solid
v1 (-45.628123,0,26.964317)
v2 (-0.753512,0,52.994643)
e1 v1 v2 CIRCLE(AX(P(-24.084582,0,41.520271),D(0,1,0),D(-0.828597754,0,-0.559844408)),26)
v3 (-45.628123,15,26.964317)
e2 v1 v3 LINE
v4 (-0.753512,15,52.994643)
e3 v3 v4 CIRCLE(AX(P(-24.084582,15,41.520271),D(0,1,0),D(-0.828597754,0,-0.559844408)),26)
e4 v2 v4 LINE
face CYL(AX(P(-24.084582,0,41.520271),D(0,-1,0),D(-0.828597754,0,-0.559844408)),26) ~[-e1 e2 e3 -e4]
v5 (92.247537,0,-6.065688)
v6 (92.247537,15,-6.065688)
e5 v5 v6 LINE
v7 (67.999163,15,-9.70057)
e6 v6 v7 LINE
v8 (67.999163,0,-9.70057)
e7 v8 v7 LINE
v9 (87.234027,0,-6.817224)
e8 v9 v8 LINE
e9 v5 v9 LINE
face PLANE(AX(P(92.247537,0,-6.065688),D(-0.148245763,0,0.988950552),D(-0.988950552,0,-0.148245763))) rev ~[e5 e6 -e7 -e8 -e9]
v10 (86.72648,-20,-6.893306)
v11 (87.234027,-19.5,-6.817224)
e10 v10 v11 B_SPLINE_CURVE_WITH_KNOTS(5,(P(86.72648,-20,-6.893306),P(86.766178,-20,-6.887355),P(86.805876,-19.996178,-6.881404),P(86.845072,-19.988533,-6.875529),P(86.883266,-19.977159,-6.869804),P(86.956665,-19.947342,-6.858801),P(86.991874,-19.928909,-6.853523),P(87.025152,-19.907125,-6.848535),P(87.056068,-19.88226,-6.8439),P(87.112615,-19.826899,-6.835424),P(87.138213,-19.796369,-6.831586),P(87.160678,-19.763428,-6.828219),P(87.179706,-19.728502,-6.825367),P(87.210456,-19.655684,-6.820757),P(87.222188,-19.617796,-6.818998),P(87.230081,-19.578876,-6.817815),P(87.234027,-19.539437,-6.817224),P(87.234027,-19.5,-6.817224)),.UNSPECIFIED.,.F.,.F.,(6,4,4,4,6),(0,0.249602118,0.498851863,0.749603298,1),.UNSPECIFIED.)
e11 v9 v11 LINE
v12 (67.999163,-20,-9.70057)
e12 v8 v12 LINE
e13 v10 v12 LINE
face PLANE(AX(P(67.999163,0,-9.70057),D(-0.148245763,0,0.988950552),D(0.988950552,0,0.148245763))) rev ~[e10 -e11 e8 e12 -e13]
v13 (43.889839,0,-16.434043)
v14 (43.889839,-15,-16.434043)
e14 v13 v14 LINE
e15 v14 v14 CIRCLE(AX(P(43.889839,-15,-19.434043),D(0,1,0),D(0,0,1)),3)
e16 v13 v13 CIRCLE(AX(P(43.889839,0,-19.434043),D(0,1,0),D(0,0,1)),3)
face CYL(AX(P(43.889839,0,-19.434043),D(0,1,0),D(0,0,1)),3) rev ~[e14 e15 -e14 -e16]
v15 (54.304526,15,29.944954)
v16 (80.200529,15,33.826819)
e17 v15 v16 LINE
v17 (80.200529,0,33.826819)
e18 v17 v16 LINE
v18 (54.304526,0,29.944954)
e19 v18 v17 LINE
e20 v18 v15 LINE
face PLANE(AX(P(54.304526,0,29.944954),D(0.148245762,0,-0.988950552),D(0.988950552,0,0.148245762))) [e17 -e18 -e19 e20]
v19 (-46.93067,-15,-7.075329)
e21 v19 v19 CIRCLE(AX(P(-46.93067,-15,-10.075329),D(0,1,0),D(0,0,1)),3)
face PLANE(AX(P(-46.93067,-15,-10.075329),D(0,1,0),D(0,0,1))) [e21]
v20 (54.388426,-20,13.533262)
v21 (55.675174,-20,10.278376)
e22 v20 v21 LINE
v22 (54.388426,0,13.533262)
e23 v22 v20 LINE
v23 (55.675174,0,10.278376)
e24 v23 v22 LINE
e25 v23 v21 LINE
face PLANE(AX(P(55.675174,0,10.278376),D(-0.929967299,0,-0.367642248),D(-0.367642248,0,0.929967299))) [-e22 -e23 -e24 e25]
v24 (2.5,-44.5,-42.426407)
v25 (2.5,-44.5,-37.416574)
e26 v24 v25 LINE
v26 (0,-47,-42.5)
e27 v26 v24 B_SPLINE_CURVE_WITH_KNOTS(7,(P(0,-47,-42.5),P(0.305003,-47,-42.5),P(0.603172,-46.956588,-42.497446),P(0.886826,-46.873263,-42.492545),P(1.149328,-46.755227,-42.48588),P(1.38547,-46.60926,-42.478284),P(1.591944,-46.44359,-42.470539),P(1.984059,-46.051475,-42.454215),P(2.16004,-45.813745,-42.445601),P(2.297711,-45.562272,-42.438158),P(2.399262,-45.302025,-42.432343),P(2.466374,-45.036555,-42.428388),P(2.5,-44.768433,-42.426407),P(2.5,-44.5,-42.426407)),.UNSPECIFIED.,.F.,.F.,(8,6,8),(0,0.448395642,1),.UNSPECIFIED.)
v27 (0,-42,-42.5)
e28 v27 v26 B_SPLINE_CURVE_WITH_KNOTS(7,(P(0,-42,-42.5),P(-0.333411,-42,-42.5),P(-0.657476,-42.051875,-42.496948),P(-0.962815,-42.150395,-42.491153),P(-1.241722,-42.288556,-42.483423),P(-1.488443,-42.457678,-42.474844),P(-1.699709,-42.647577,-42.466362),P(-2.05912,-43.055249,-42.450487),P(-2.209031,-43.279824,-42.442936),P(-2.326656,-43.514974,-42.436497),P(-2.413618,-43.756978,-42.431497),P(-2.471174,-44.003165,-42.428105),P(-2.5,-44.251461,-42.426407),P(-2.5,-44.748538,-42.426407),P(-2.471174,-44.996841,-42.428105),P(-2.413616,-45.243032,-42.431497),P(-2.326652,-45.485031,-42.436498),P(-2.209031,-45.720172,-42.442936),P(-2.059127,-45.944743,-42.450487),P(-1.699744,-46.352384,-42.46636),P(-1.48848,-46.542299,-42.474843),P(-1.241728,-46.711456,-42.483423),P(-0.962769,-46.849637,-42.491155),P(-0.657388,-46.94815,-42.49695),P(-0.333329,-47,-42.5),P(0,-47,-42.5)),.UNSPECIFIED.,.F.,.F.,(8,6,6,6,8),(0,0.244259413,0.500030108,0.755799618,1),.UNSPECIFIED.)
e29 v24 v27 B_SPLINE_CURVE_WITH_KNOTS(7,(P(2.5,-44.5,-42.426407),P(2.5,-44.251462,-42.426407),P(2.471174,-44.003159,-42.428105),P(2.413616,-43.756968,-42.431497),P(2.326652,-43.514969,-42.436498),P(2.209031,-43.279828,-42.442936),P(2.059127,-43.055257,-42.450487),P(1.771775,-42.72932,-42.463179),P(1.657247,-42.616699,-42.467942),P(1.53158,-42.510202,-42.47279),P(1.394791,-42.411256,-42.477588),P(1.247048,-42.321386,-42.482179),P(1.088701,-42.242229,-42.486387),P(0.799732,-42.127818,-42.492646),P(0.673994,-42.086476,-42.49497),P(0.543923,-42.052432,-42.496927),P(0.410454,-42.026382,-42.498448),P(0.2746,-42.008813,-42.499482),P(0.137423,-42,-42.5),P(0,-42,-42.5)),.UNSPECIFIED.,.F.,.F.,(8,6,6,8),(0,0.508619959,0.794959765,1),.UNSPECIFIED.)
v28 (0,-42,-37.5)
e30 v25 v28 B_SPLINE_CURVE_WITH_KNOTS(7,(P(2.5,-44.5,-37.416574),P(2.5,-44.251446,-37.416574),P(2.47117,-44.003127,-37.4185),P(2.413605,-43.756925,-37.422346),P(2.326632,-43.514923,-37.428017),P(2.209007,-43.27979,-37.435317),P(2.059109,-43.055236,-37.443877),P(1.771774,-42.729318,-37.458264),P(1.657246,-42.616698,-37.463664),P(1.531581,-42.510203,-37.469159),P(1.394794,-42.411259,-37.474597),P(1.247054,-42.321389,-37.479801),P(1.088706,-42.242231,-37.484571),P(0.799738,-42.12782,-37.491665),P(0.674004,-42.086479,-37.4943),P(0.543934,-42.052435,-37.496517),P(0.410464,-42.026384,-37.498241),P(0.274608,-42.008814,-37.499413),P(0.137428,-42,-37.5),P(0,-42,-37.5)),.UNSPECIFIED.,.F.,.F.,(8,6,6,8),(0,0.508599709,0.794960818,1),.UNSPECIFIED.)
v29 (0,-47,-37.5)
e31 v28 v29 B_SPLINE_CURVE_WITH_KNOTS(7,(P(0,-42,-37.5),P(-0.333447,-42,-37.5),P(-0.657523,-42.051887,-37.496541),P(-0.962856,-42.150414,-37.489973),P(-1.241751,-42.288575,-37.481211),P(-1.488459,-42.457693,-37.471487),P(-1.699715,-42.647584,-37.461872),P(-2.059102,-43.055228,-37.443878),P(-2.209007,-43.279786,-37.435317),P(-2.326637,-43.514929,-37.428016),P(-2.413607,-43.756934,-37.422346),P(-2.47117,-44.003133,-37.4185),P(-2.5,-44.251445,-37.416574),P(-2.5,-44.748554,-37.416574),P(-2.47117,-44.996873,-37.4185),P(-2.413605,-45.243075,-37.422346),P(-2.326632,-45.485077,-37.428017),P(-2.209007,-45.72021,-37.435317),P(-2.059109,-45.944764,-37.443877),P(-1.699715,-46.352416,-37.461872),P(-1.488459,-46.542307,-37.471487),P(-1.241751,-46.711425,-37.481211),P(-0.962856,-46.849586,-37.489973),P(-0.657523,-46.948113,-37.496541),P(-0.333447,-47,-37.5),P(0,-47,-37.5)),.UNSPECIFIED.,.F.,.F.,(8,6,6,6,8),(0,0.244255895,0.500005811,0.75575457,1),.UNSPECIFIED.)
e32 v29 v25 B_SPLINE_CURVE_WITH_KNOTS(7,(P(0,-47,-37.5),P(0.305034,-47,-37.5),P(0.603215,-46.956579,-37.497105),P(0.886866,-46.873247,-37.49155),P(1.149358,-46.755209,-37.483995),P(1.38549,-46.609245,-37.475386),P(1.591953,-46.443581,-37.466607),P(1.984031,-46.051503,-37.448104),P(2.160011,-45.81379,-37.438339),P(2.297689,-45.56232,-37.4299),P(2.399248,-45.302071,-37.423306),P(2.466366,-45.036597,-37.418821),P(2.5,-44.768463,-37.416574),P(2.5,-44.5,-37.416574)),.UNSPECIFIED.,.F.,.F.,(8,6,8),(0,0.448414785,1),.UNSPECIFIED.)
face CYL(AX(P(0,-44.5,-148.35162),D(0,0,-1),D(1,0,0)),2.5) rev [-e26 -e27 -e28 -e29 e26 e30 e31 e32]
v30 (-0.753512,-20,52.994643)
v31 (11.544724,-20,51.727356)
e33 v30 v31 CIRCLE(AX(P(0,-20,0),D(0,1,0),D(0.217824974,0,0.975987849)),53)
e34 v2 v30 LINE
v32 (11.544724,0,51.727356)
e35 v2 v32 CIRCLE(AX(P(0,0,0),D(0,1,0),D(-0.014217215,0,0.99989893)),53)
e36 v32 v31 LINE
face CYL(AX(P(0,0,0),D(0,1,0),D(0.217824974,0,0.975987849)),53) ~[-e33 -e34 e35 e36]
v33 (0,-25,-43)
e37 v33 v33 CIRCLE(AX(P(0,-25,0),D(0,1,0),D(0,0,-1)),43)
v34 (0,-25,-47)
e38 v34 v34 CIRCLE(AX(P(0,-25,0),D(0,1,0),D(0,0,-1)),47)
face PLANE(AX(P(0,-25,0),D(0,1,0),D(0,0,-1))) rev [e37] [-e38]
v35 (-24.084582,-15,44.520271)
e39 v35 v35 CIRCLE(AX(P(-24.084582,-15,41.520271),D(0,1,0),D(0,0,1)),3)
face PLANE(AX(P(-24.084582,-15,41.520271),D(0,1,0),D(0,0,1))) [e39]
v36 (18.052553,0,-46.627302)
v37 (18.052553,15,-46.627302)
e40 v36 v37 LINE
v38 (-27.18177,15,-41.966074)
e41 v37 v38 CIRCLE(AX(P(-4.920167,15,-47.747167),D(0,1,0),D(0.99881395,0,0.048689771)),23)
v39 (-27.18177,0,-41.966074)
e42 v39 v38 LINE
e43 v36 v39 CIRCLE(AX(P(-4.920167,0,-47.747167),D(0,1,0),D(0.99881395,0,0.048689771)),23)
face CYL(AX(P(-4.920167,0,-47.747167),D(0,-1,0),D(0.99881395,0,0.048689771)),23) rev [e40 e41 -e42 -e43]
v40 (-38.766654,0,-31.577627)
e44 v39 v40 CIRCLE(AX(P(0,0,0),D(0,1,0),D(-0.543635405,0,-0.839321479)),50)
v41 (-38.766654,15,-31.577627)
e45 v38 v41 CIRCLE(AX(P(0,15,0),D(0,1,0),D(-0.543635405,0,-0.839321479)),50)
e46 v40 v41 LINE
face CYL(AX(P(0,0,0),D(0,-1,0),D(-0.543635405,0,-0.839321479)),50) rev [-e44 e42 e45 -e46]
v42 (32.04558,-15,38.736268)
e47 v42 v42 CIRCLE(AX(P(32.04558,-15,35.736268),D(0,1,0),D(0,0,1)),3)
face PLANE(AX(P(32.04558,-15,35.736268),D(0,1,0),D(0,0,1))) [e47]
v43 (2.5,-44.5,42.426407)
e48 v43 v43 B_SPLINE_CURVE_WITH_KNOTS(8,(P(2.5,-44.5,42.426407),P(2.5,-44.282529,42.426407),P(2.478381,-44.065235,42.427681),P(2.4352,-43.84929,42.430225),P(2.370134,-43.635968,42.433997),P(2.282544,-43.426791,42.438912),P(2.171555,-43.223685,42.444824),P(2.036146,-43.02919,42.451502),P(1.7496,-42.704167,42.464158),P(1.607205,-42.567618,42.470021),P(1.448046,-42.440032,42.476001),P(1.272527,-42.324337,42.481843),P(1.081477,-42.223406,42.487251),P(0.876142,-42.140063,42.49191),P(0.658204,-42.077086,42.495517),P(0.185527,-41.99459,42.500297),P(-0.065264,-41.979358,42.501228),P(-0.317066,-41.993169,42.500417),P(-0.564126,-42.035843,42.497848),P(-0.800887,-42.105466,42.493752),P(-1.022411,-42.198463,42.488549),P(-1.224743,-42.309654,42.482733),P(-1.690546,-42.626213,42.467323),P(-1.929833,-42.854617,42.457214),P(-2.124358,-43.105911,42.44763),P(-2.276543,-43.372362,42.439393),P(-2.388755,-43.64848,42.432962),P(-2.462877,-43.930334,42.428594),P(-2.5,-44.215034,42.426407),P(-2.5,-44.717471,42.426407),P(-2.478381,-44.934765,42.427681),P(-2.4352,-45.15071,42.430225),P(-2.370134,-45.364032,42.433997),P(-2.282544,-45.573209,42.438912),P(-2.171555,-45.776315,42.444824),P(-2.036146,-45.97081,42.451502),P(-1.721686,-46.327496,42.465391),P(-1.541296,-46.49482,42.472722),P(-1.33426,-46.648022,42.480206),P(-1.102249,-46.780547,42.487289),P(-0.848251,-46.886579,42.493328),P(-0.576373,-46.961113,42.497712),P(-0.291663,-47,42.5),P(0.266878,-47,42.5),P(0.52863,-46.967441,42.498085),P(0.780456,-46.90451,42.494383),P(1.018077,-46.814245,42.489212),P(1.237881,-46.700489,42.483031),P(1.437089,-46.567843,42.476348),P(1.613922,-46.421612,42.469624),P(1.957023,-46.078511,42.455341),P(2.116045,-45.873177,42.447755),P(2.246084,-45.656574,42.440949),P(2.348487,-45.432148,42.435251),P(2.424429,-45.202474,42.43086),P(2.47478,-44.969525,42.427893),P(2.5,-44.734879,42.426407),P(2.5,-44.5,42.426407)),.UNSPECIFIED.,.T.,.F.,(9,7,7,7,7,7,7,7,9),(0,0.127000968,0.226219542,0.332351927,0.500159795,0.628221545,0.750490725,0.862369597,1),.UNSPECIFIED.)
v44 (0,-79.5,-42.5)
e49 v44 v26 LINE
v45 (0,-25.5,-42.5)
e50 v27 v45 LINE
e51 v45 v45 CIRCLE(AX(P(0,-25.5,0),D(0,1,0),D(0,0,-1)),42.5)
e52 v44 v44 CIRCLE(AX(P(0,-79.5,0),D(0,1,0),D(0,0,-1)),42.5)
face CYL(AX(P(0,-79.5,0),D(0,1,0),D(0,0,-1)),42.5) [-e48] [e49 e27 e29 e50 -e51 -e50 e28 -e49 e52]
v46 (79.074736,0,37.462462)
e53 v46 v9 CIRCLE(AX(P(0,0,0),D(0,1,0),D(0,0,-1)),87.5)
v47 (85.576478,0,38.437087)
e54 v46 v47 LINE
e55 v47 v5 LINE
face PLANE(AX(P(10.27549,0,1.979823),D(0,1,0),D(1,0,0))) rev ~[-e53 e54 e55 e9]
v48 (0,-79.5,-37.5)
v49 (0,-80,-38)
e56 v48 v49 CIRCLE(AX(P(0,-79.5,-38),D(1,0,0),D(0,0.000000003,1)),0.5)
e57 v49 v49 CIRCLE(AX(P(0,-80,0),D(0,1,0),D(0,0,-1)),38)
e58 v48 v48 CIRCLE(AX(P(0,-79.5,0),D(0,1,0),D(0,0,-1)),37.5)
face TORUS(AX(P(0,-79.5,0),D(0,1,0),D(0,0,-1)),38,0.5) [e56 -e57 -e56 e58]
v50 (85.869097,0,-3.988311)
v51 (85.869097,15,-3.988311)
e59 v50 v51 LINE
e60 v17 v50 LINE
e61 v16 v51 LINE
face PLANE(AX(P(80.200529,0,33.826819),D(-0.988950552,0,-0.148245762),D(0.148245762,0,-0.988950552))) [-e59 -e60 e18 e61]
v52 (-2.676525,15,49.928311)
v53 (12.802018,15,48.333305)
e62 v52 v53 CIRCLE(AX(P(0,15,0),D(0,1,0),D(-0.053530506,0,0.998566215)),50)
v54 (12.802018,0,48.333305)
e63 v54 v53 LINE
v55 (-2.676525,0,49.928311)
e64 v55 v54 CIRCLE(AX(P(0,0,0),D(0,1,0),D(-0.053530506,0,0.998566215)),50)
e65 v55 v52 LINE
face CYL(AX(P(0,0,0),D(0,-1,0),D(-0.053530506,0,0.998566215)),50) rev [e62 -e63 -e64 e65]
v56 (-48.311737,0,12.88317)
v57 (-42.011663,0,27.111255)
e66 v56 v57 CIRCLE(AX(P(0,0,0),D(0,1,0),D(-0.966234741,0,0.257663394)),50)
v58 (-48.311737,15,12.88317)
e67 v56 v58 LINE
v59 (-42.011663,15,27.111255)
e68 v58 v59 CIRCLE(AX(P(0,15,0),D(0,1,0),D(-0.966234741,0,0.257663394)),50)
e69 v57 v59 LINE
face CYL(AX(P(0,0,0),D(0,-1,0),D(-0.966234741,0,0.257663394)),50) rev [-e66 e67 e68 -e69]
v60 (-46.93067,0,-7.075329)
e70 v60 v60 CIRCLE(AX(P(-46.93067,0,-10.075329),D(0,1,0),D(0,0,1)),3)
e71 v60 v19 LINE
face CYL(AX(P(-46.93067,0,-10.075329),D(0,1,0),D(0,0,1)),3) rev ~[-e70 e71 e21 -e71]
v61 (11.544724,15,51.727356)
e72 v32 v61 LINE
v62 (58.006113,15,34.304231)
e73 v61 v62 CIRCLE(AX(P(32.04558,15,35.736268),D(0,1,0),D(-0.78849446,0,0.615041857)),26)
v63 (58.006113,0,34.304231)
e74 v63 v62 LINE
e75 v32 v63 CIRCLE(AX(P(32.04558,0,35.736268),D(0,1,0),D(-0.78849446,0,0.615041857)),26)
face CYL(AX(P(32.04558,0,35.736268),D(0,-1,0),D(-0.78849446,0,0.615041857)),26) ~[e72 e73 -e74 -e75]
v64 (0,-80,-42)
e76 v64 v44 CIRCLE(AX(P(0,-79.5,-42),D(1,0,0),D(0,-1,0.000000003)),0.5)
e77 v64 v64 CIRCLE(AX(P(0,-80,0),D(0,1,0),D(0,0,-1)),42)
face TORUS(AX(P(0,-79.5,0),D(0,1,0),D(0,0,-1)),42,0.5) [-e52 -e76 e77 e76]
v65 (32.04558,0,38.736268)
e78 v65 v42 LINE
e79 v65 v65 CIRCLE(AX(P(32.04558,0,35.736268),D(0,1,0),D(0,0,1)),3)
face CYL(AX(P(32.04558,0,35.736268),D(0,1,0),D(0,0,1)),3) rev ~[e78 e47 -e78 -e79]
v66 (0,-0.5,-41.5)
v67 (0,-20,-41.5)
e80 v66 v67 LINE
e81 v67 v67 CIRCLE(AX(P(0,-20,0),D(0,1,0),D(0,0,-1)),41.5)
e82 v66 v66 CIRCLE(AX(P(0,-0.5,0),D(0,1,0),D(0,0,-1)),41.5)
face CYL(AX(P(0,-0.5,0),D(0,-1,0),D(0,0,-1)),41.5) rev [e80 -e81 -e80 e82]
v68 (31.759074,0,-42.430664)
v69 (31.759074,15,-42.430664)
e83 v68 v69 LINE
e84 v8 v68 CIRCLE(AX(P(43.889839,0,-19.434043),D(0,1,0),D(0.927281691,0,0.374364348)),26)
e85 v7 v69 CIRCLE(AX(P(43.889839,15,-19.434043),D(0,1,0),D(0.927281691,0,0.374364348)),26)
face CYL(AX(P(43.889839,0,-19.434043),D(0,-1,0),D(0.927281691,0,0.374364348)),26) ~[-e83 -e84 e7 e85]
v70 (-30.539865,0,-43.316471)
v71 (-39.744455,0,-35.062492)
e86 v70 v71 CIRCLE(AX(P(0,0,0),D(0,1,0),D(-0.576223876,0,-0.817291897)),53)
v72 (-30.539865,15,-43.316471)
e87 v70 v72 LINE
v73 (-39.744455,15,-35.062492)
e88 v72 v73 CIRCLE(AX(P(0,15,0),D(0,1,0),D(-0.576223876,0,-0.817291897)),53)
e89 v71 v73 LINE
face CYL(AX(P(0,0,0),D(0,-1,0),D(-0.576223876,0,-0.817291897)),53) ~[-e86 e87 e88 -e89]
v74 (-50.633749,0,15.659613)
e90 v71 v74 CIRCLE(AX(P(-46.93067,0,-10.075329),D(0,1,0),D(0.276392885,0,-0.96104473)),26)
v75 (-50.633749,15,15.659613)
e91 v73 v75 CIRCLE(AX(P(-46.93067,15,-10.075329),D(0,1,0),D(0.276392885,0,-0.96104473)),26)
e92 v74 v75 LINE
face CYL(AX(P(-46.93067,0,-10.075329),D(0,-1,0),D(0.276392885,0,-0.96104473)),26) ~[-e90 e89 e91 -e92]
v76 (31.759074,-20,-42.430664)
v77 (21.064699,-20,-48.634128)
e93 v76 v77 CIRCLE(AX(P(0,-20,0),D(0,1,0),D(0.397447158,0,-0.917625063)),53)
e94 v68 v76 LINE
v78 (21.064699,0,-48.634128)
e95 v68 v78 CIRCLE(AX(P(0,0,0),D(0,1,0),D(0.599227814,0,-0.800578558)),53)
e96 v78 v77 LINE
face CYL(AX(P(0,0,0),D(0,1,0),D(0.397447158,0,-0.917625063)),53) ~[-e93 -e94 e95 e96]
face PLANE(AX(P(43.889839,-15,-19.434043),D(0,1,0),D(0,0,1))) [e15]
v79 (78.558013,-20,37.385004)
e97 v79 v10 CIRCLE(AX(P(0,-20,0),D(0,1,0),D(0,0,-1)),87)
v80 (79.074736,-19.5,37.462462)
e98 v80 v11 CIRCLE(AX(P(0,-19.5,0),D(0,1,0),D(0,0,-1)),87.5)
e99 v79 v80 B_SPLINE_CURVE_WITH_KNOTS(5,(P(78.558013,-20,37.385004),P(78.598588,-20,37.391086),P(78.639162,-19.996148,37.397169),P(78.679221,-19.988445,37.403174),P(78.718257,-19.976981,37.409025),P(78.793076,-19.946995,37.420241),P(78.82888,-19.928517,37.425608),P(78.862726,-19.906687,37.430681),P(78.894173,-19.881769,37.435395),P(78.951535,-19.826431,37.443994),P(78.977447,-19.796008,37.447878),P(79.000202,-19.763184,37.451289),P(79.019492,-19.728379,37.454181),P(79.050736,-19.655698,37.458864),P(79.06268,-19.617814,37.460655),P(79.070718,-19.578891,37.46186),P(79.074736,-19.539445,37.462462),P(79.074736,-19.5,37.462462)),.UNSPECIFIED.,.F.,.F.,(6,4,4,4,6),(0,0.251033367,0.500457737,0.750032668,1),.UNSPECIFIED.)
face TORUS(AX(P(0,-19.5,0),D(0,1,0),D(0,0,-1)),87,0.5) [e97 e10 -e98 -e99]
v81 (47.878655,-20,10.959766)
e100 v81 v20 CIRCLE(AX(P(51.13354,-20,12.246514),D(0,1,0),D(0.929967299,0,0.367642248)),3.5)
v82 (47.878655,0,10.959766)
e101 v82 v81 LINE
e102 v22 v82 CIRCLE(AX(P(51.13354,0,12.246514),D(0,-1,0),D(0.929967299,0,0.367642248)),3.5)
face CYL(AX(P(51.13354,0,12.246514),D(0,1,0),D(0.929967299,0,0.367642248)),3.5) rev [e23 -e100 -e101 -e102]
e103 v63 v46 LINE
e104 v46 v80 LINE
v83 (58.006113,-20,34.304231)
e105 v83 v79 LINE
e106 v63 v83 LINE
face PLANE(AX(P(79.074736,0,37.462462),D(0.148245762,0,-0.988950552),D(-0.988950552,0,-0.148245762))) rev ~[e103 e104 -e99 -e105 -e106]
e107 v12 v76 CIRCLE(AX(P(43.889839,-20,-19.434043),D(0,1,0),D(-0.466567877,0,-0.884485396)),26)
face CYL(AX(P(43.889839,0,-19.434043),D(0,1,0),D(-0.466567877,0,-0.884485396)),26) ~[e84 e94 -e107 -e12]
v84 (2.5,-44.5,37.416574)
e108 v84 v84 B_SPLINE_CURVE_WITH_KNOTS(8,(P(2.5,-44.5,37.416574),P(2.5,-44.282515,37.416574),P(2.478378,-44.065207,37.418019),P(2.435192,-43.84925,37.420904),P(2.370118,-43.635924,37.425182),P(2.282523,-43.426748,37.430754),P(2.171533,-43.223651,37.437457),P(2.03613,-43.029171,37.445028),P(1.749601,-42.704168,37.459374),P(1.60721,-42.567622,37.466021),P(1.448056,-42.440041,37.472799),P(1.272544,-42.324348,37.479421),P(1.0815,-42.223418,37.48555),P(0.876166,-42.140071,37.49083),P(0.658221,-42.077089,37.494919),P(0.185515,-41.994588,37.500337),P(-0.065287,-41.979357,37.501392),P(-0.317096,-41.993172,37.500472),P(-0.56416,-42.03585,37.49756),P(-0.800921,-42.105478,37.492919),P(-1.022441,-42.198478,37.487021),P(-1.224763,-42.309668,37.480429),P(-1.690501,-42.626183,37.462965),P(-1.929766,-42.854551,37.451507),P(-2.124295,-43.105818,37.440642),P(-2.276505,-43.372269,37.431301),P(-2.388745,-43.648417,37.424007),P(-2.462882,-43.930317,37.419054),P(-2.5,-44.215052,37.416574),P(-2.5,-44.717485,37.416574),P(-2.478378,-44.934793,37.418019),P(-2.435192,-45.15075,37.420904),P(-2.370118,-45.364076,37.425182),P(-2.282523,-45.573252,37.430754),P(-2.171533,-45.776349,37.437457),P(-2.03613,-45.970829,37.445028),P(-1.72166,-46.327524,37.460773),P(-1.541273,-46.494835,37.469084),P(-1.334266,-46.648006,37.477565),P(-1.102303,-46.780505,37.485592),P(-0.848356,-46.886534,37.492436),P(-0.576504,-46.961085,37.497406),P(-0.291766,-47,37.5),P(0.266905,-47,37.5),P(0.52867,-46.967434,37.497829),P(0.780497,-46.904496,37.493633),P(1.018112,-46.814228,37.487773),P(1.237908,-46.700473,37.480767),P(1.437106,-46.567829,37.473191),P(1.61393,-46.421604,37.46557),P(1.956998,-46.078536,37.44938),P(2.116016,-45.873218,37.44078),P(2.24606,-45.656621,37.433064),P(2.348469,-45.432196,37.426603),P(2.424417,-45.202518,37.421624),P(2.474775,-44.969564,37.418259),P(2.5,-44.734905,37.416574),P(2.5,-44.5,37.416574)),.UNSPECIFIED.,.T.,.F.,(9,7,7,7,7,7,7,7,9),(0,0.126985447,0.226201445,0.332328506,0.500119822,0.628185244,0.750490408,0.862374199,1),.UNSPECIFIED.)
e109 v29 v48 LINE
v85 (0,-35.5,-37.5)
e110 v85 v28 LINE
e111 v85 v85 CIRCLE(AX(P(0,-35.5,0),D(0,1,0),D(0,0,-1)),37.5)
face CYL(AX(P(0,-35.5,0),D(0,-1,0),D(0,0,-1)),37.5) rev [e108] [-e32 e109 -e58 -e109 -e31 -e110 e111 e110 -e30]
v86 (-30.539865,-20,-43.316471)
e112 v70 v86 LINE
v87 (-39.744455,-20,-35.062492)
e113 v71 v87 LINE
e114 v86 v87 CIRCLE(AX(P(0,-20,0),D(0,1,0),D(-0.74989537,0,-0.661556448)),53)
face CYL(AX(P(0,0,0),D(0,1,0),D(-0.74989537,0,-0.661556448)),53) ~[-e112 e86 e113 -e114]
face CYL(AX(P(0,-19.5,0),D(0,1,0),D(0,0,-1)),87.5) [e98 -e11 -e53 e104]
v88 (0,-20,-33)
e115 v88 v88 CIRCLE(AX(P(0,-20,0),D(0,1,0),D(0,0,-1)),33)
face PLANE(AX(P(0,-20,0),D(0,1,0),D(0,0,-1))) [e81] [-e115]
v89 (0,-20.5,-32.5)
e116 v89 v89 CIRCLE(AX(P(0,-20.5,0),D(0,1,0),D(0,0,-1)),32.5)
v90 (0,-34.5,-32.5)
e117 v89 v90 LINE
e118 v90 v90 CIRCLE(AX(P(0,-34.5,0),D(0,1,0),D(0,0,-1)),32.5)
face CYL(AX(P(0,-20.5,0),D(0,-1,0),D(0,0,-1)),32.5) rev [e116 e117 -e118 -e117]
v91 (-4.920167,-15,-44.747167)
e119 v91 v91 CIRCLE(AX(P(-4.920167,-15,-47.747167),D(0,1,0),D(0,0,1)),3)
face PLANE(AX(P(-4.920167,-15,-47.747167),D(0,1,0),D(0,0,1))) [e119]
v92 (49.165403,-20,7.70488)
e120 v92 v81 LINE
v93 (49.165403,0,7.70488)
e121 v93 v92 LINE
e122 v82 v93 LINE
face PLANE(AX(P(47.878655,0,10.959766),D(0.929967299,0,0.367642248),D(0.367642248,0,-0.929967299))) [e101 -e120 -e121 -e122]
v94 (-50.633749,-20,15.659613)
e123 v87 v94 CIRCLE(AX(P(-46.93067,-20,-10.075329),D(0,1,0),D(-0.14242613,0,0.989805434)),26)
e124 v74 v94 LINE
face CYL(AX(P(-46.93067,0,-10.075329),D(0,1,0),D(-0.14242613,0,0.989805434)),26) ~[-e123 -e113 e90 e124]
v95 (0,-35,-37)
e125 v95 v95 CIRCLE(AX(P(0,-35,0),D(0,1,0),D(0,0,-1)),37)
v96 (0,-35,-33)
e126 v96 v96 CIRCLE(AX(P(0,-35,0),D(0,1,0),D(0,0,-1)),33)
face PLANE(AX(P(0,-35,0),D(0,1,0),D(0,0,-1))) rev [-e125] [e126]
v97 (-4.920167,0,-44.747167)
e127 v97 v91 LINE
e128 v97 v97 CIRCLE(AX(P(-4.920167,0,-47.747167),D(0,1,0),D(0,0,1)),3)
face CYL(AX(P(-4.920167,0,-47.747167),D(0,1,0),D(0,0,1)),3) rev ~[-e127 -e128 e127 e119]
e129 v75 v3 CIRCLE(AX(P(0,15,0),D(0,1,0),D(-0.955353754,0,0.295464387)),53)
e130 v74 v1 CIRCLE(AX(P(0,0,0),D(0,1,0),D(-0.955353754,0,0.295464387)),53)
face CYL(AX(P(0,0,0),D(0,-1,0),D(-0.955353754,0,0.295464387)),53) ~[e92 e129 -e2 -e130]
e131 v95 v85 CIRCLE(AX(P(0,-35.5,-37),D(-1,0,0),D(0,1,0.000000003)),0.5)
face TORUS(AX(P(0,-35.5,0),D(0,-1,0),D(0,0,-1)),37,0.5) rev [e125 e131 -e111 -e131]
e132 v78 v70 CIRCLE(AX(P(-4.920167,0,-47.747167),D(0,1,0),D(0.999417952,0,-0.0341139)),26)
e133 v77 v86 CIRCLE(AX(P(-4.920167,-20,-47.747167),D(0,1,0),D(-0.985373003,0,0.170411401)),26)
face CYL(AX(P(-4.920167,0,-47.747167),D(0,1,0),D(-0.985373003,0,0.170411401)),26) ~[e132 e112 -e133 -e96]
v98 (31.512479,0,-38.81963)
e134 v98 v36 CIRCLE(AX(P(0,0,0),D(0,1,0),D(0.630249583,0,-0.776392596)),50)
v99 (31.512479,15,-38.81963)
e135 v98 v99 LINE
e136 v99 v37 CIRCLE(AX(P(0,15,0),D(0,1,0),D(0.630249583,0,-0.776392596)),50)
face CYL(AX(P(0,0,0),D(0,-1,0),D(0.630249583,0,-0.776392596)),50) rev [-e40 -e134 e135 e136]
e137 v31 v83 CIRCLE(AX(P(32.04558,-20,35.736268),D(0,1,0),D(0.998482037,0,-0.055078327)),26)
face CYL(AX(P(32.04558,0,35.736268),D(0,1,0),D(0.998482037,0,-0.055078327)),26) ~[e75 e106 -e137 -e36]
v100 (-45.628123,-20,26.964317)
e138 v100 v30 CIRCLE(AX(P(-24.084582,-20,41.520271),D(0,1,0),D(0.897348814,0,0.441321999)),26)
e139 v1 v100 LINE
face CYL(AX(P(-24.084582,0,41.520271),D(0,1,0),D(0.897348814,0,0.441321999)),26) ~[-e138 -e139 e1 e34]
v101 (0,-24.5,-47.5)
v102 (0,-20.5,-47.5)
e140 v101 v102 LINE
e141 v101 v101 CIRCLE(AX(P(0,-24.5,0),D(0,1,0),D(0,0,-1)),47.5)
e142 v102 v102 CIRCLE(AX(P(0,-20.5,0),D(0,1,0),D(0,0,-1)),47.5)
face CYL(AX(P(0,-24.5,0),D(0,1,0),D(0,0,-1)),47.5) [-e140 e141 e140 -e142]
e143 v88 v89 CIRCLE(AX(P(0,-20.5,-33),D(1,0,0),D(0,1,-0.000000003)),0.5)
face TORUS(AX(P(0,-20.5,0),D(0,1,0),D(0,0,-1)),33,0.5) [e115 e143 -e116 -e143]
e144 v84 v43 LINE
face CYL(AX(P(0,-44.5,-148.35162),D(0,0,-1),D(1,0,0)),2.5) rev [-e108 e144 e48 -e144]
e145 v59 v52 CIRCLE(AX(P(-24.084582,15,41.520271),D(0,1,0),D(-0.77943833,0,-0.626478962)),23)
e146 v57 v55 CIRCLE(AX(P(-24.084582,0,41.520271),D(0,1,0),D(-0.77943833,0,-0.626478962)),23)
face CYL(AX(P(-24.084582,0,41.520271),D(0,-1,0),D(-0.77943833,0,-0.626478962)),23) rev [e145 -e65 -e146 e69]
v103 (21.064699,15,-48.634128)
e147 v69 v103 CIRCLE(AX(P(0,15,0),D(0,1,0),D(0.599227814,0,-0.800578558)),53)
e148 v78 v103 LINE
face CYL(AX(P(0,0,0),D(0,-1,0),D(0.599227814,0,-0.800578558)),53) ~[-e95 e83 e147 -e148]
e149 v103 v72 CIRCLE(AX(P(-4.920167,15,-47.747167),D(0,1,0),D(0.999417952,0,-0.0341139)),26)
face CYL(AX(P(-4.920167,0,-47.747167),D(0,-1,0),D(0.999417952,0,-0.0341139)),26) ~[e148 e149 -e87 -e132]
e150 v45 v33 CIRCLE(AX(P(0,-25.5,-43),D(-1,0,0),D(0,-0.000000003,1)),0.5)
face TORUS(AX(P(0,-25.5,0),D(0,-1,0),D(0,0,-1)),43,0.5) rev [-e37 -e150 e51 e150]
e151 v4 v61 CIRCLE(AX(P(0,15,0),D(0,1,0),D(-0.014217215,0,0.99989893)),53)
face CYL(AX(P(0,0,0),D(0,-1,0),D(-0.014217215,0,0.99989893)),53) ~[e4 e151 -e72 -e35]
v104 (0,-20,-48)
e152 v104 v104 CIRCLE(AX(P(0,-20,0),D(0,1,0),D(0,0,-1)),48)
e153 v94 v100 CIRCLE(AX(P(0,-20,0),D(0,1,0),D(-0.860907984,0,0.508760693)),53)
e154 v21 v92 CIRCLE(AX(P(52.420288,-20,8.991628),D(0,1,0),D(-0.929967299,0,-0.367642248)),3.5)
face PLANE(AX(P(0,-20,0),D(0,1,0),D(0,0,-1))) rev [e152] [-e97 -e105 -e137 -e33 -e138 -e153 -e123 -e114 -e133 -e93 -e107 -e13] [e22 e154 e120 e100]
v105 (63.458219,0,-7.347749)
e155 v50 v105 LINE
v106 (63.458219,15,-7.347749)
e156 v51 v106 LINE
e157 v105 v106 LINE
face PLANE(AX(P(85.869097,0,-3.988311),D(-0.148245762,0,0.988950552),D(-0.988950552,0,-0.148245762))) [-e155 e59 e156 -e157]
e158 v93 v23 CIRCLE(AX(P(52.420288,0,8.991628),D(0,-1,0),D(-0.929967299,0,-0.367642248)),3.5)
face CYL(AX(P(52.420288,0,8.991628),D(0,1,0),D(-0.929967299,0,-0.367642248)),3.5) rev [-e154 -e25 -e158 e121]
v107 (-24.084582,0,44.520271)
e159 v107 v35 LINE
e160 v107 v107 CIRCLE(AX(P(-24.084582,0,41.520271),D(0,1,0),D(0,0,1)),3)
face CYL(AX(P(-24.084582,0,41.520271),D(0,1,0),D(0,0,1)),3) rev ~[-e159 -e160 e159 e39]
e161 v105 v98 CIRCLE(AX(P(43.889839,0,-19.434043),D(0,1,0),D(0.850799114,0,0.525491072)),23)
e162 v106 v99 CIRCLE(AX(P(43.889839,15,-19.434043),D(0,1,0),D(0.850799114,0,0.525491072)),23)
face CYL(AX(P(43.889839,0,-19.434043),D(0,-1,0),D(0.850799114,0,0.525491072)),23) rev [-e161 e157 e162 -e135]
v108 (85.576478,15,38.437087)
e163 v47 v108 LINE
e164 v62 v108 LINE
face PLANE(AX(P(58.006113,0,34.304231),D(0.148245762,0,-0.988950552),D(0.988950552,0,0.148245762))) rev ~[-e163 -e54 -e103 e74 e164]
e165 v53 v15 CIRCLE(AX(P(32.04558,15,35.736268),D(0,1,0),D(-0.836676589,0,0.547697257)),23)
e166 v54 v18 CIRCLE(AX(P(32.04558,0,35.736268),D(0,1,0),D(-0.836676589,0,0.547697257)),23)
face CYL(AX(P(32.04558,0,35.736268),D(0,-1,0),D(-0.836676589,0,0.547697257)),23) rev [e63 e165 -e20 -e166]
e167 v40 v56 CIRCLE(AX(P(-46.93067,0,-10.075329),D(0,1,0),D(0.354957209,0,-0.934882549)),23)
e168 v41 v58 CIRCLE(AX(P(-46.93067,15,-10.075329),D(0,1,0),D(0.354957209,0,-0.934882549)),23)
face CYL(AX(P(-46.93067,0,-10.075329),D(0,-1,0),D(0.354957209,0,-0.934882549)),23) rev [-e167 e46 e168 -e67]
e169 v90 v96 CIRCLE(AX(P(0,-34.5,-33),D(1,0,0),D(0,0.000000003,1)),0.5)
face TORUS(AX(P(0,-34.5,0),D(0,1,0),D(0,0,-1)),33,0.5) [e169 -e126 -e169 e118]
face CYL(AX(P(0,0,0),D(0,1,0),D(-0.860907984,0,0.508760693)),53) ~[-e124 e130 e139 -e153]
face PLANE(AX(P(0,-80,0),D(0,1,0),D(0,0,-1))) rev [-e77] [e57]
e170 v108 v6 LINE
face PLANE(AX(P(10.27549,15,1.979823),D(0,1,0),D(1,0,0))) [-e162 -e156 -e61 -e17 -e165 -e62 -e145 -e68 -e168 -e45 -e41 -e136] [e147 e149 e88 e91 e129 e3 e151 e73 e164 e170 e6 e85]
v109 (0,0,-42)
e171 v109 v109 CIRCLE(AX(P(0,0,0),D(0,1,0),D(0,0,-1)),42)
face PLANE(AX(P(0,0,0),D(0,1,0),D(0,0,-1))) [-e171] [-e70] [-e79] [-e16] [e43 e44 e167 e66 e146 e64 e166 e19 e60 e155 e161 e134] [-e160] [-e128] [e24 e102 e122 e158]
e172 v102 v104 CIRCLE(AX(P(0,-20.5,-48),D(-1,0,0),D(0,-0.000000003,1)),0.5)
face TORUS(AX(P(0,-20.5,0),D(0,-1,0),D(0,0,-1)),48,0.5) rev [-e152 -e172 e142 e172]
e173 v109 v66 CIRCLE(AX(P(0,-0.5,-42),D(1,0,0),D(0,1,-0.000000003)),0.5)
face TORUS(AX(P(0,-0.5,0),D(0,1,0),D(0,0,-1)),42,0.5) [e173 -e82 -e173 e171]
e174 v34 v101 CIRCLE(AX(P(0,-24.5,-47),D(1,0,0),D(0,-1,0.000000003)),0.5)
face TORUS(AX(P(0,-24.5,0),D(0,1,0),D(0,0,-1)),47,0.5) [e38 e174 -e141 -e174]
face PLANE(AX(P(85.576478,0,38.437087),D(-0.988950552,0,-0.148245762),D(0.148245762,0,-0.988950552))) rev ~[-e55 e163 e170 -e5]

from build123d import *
from build123d.topology import SkipClean

# Parameters (mm, degrees)
CUT_EXTRUDE6_DEPTH      = 148.351620397
CUT_EXTRUDE6_DEPTH_BACK = 148.351620397
SKETCH6_R               = 2.5
SKETCH8_R               = 3
CUT_EXTRUDE8_DEPTH      = 15
CUT_EXTRUDE9_DEPTH      = 148.351620397
BOSS_EXTRUDE1_DEPTH     = 15
CUT_EXTRUDE10_DEPTH     = 151.219366665


with BuildPart() as part:
    # Sketch1 → Revolve1 (revolve)
    with BuildSketch(Plane.XY):
        with BuildLine():
            Line((-87.5, -19.5), (-87.5, 0))
            Line((-87.5, 0), (-42, 0))
            ThreePointArc((-42, 0), (-41.646446609, -0.146446609), (-41.5, -0.5))
            Line((-41.5, -0.5), (-41.5, -20))
            Line((-41.5, -20), (-33, -20))
            ThreePointArc((-33, -20), (-32.646446609, -20.146446609), (-32.5, -20.5))
            Line((-32.5, -20.5), (-32.5, -34.5))
            ThreePointArc((-32.5, -34.5), (-32.646446609, -34.853553391), (-33, -35))
            Line((-33, -35), (-37, -35))
            ThreePointArc((-37, -35), (-37.353553391, -35.146446609), (-37.5, -35.5))
            Line((-37.5, -35.5), (-37.5, -79.5))
            ThreePointArc((-37.5, -79.5), (-37.646446609, -79.853553391), (-38, -80))
            Line((-38, -80), (-42, -80))
            ThreePointArc((-42, -80), (-42.353553391, -79.853553391), (-42.5, -79.5))
            Line((-42.5, -79.5), (-42.5, -25.5))
            ThreePointArc((-42.5, -25.5), (-42.646446609, -25.146446609), (-43, -25))
            Line((-43, -25), (-47, -25))
            ThreePointArc((-47, -25), (-47.353553391, -24.853553391), (-47.5, -24.5))
            Line((-47.5, -24.5), (-47.5, -20.5))
            ThreePointArc((-47.5, -20.5), (-47.646446609, -20.146446609), (-48, -20))
            Line((-48, -20), (-87, -20))
            ThreePointArc((-87, -20), (-87.353553391, -19.853553391), (-87.5, -19.5))
        make_face()
    revolve(axis=Axis((0, -100.5, 0), (0, 1, 0)))

    # Sketch6 → Cut-Extrude6 (cut, two sides: drawn at the far end of the back side and taken through both)
    with BuildSketch(Plane.XY.offset(-CUT_EXTRUDE6_DEPTH_BACK)):
        with Locations((0, -44.5)):
            Circle(SKETCH6_R)
    extrude(amount=CUT_EXTRUDE6_DEPTH + CUT_EXTRUDE6_DEPTH_BACK, mode=Mode.SUBTRACT)

    # Sketch8 → Cut-Extrude8 (cut)
    with BuildSketch(Plane(origin=(0, 0, 0), x_dir=(1, 0, 0), z_dir=(0, 1, 0))):
        with Locations((43.889838941, 19.434043267)):
            Circle(SKETCH8_R)
        with Locations((-4.920167374, 47.747166963)):
            Circle(SKETCH8_R)
        with Locations((-46.930669609, 10.075328782)):
            Circle(SKETCH8_R)
        with Locations((-24.084581559, -41.520271328)):
            Circle(SKETCH8_R)
        with Locations((32.045579601, -35.736267685)):
            Circle(SKETCH8_R)
    extrude(amount=-CUT_EXTRUDE8_DEPTH, mode=Mode.SUBTRACT)

    # Sketch9 → Cut-Extrude9 (cut, through all)
    with BuildSketch(Plane(origin=(0, 0, 0), x_dir=(1, 0, 0), z_dir=(0, 1, 0))):
        with BuildLine():
            Line((47.878654766, -10.959765881), (49.165402635, -7.704880334))
            ThreePointArc((49.165402635, -7.704880334), (53.70703605, -5.736742656), (55.675173729, -10.278376071))
            Line((55.675173729, -10.278376071), (54.38842586, -13.533261618))
            ThreePointArc((54.38842586, -13.533261618), (49.846792445, -15.501399296), (47.878654766, -10.959765881))
        make_face()
    extrude(amount=-CUT_EXTRUDE9_DEPTH, mode=Mode.SUBTRACT)

    # Sketch11 → Boss-Extrude1 (add)
    with BuildSketch(Plane(origin=(0, 0, 0), x_dir=(1, 0, 0), z_dir=(0, 1, 0))):
        with BuildLine():
            Line((58.006112558, -34.30423118), (85.576477812, -38.437086773))
            Line((85.576477812, -38.437086773), (92.247537123, 6.065688058))
            Line((92.247537123, 6.065688058), (67.999162916, 9.700570224))
            ThreePointArc((67.999162916, 9.700570224), (61.316434203, 38.72947738), (31.759074129, 42.430663564))
            ThreePointArc((31.759074129, 42.430663564), (26.593392138, 45.845299591), (21.064699366, 48.634128353))
            ThreePointArc((21.064699366, 48.634128353), (-7.585258035, 73.610215735), (-30.539865442, 43.316470525))
            ThreePointArc((-30.539865442, 43.316470525), (-35.383660809, 39.458795569), (-39.744454599, 35.062491763))
            ThreePointArc((-39.744454599, 35.062491763), (-72.35144898, 15.532798539), (-50.633748984, -15.659612507))
            ThreePointArc((-50.633748984, -15.659612507), (-48.461697164, -21.458422775), (-45.628123172, -26.964316713))
            ThreePointArc((-45.628123172, -26.964316713), (-37.13039657, -64.010418297), (-0.753512408, -52.994643305))
            ThreePointArc((-0.753512408, -52.994643305), (5.432684809, -52.720830188), (11.544723636, -51.727355975))
            ThreePointArc((11.544723636, -51.727355975), (41.174836834, -60.080808395), (58.006112558, -34.30423118))
        make_face()
        with BuildLine():
            Line((54.30452578, -29.944953934), (80.200529182, -33.826819172))
            Line((80.200529182, -33.826819172), (85.869096525, 3.988310978))
            Line((85.869096525, 3.988310978), (63.458218568, 7.347748601))
            ThreePointArc((63.458218568, 7.347748601), (60.031323322, 35.818562851), (31.512479161, 38.819629791))
            ThreePointArc((31.512479161, 38.819629791), (25.08810579, 43.250282633), (18.05255347, 46.62730223))
            ThreePointArc((18.05255347, 46.62730223), (-7.277747575, 70.6260178), (-27.181770278, 41.966073971))
            ThreePointArc((-27.181770278, 41.966073971), (-33.380812084, 37.225278839), (-38.766653809, 31.577627404))
            ThreePointArc((-38.766653809, 31.577627404), (-69.41828213, 14.90309049), (-48.311737067, -12.883169703))
            ThreePointArc((-48.311737067, -12.883169703), (-45.71858223, -20.24379507), (-42.011663154, -27.11125521))
            ThreePointArc((-42.011663154, -27.11125521), (-35.625110222, -61.415401339), (-2.676525285, -49.92831073))
            ThreePointArc((-2.676525285, -49.92831073), (5.125174348, -49.736632253), (12.802018056, -48.333304601))
            ThreePointArc((12.802018056, -48.333304601), (41.362553154, -56.76467713), (54.30452578, -29.944953934))
        make_face(mode=Mode.SUBTRACT)
    extrude(amount=BOSS_EXTRUDE1_DEPTH)

    # Sketch12 → Cut-Extrude10 (cut, through all)
    with SkipClean():  # the faces are left unmerged after this step: merging them gives an invalid solid
        with BuildSketch(Plane(origin=(0, 0, 0), x_dir=(1, 0, 0), z_dir=(0, 1, 0))):
            with BuildLine():
                Line((67.999162916, 9.700570224), (87.234026964, 6.817223749))
                ThreePointArc((87.234026964, 6.817223749), (-86.05128608, 15.856423429), (79.074736383, -37.462462092))
                Line((79.074736383, -37.462462092), (58.006112558, -34.30423118))
                ThreePointArc((58.006112558, -34.30423118), (41.174836834, -60.080808395), (11.544723636, -51.727355975))
                ThreePointArc((11.544723636, -51.727355975), (5.432684809, -52.720830188), (-0.753512408, -52.994643305))
                ThreePointArc((-0.753512408, -52.994643305), (-37.13039657, -64.010418297), (-45.628123172, -26.964316713))
                ThreePointArc((-45.628123172, -26.964316713), (-48.461697164, -21.458422775), (-50.633748984, -15.659612507))
                ThreePointArc((-50.633748984, -15.659612507), (-72.35144898, 15.532798539), (-39.744454599, 35.062491763))
                ThreePointArc((-39.744454599, 35.062491763), (-35.383660809, 39.458795569), (-30.539865442, 43.316470525))
                ThreePointArc((-30.539865442, 43.316470525), (-7.585258035, 73.610215735), (21.064699366, 48.634128353))
                ThreePointArc((21.064699366, 48.634128353), (26.593392138, 45.845299591), (31.759074129, 42.430663564))
                ThreePointArc((31.759074129, 42.430663564), (61.316434203, 38.72947738), (67.999162916, 9.700570224))
            make_face()
        extrude(amount=-CUT_EXTRUDE10_DEPTH, mode=Mode.SUBTRACT)


solid = part.part
